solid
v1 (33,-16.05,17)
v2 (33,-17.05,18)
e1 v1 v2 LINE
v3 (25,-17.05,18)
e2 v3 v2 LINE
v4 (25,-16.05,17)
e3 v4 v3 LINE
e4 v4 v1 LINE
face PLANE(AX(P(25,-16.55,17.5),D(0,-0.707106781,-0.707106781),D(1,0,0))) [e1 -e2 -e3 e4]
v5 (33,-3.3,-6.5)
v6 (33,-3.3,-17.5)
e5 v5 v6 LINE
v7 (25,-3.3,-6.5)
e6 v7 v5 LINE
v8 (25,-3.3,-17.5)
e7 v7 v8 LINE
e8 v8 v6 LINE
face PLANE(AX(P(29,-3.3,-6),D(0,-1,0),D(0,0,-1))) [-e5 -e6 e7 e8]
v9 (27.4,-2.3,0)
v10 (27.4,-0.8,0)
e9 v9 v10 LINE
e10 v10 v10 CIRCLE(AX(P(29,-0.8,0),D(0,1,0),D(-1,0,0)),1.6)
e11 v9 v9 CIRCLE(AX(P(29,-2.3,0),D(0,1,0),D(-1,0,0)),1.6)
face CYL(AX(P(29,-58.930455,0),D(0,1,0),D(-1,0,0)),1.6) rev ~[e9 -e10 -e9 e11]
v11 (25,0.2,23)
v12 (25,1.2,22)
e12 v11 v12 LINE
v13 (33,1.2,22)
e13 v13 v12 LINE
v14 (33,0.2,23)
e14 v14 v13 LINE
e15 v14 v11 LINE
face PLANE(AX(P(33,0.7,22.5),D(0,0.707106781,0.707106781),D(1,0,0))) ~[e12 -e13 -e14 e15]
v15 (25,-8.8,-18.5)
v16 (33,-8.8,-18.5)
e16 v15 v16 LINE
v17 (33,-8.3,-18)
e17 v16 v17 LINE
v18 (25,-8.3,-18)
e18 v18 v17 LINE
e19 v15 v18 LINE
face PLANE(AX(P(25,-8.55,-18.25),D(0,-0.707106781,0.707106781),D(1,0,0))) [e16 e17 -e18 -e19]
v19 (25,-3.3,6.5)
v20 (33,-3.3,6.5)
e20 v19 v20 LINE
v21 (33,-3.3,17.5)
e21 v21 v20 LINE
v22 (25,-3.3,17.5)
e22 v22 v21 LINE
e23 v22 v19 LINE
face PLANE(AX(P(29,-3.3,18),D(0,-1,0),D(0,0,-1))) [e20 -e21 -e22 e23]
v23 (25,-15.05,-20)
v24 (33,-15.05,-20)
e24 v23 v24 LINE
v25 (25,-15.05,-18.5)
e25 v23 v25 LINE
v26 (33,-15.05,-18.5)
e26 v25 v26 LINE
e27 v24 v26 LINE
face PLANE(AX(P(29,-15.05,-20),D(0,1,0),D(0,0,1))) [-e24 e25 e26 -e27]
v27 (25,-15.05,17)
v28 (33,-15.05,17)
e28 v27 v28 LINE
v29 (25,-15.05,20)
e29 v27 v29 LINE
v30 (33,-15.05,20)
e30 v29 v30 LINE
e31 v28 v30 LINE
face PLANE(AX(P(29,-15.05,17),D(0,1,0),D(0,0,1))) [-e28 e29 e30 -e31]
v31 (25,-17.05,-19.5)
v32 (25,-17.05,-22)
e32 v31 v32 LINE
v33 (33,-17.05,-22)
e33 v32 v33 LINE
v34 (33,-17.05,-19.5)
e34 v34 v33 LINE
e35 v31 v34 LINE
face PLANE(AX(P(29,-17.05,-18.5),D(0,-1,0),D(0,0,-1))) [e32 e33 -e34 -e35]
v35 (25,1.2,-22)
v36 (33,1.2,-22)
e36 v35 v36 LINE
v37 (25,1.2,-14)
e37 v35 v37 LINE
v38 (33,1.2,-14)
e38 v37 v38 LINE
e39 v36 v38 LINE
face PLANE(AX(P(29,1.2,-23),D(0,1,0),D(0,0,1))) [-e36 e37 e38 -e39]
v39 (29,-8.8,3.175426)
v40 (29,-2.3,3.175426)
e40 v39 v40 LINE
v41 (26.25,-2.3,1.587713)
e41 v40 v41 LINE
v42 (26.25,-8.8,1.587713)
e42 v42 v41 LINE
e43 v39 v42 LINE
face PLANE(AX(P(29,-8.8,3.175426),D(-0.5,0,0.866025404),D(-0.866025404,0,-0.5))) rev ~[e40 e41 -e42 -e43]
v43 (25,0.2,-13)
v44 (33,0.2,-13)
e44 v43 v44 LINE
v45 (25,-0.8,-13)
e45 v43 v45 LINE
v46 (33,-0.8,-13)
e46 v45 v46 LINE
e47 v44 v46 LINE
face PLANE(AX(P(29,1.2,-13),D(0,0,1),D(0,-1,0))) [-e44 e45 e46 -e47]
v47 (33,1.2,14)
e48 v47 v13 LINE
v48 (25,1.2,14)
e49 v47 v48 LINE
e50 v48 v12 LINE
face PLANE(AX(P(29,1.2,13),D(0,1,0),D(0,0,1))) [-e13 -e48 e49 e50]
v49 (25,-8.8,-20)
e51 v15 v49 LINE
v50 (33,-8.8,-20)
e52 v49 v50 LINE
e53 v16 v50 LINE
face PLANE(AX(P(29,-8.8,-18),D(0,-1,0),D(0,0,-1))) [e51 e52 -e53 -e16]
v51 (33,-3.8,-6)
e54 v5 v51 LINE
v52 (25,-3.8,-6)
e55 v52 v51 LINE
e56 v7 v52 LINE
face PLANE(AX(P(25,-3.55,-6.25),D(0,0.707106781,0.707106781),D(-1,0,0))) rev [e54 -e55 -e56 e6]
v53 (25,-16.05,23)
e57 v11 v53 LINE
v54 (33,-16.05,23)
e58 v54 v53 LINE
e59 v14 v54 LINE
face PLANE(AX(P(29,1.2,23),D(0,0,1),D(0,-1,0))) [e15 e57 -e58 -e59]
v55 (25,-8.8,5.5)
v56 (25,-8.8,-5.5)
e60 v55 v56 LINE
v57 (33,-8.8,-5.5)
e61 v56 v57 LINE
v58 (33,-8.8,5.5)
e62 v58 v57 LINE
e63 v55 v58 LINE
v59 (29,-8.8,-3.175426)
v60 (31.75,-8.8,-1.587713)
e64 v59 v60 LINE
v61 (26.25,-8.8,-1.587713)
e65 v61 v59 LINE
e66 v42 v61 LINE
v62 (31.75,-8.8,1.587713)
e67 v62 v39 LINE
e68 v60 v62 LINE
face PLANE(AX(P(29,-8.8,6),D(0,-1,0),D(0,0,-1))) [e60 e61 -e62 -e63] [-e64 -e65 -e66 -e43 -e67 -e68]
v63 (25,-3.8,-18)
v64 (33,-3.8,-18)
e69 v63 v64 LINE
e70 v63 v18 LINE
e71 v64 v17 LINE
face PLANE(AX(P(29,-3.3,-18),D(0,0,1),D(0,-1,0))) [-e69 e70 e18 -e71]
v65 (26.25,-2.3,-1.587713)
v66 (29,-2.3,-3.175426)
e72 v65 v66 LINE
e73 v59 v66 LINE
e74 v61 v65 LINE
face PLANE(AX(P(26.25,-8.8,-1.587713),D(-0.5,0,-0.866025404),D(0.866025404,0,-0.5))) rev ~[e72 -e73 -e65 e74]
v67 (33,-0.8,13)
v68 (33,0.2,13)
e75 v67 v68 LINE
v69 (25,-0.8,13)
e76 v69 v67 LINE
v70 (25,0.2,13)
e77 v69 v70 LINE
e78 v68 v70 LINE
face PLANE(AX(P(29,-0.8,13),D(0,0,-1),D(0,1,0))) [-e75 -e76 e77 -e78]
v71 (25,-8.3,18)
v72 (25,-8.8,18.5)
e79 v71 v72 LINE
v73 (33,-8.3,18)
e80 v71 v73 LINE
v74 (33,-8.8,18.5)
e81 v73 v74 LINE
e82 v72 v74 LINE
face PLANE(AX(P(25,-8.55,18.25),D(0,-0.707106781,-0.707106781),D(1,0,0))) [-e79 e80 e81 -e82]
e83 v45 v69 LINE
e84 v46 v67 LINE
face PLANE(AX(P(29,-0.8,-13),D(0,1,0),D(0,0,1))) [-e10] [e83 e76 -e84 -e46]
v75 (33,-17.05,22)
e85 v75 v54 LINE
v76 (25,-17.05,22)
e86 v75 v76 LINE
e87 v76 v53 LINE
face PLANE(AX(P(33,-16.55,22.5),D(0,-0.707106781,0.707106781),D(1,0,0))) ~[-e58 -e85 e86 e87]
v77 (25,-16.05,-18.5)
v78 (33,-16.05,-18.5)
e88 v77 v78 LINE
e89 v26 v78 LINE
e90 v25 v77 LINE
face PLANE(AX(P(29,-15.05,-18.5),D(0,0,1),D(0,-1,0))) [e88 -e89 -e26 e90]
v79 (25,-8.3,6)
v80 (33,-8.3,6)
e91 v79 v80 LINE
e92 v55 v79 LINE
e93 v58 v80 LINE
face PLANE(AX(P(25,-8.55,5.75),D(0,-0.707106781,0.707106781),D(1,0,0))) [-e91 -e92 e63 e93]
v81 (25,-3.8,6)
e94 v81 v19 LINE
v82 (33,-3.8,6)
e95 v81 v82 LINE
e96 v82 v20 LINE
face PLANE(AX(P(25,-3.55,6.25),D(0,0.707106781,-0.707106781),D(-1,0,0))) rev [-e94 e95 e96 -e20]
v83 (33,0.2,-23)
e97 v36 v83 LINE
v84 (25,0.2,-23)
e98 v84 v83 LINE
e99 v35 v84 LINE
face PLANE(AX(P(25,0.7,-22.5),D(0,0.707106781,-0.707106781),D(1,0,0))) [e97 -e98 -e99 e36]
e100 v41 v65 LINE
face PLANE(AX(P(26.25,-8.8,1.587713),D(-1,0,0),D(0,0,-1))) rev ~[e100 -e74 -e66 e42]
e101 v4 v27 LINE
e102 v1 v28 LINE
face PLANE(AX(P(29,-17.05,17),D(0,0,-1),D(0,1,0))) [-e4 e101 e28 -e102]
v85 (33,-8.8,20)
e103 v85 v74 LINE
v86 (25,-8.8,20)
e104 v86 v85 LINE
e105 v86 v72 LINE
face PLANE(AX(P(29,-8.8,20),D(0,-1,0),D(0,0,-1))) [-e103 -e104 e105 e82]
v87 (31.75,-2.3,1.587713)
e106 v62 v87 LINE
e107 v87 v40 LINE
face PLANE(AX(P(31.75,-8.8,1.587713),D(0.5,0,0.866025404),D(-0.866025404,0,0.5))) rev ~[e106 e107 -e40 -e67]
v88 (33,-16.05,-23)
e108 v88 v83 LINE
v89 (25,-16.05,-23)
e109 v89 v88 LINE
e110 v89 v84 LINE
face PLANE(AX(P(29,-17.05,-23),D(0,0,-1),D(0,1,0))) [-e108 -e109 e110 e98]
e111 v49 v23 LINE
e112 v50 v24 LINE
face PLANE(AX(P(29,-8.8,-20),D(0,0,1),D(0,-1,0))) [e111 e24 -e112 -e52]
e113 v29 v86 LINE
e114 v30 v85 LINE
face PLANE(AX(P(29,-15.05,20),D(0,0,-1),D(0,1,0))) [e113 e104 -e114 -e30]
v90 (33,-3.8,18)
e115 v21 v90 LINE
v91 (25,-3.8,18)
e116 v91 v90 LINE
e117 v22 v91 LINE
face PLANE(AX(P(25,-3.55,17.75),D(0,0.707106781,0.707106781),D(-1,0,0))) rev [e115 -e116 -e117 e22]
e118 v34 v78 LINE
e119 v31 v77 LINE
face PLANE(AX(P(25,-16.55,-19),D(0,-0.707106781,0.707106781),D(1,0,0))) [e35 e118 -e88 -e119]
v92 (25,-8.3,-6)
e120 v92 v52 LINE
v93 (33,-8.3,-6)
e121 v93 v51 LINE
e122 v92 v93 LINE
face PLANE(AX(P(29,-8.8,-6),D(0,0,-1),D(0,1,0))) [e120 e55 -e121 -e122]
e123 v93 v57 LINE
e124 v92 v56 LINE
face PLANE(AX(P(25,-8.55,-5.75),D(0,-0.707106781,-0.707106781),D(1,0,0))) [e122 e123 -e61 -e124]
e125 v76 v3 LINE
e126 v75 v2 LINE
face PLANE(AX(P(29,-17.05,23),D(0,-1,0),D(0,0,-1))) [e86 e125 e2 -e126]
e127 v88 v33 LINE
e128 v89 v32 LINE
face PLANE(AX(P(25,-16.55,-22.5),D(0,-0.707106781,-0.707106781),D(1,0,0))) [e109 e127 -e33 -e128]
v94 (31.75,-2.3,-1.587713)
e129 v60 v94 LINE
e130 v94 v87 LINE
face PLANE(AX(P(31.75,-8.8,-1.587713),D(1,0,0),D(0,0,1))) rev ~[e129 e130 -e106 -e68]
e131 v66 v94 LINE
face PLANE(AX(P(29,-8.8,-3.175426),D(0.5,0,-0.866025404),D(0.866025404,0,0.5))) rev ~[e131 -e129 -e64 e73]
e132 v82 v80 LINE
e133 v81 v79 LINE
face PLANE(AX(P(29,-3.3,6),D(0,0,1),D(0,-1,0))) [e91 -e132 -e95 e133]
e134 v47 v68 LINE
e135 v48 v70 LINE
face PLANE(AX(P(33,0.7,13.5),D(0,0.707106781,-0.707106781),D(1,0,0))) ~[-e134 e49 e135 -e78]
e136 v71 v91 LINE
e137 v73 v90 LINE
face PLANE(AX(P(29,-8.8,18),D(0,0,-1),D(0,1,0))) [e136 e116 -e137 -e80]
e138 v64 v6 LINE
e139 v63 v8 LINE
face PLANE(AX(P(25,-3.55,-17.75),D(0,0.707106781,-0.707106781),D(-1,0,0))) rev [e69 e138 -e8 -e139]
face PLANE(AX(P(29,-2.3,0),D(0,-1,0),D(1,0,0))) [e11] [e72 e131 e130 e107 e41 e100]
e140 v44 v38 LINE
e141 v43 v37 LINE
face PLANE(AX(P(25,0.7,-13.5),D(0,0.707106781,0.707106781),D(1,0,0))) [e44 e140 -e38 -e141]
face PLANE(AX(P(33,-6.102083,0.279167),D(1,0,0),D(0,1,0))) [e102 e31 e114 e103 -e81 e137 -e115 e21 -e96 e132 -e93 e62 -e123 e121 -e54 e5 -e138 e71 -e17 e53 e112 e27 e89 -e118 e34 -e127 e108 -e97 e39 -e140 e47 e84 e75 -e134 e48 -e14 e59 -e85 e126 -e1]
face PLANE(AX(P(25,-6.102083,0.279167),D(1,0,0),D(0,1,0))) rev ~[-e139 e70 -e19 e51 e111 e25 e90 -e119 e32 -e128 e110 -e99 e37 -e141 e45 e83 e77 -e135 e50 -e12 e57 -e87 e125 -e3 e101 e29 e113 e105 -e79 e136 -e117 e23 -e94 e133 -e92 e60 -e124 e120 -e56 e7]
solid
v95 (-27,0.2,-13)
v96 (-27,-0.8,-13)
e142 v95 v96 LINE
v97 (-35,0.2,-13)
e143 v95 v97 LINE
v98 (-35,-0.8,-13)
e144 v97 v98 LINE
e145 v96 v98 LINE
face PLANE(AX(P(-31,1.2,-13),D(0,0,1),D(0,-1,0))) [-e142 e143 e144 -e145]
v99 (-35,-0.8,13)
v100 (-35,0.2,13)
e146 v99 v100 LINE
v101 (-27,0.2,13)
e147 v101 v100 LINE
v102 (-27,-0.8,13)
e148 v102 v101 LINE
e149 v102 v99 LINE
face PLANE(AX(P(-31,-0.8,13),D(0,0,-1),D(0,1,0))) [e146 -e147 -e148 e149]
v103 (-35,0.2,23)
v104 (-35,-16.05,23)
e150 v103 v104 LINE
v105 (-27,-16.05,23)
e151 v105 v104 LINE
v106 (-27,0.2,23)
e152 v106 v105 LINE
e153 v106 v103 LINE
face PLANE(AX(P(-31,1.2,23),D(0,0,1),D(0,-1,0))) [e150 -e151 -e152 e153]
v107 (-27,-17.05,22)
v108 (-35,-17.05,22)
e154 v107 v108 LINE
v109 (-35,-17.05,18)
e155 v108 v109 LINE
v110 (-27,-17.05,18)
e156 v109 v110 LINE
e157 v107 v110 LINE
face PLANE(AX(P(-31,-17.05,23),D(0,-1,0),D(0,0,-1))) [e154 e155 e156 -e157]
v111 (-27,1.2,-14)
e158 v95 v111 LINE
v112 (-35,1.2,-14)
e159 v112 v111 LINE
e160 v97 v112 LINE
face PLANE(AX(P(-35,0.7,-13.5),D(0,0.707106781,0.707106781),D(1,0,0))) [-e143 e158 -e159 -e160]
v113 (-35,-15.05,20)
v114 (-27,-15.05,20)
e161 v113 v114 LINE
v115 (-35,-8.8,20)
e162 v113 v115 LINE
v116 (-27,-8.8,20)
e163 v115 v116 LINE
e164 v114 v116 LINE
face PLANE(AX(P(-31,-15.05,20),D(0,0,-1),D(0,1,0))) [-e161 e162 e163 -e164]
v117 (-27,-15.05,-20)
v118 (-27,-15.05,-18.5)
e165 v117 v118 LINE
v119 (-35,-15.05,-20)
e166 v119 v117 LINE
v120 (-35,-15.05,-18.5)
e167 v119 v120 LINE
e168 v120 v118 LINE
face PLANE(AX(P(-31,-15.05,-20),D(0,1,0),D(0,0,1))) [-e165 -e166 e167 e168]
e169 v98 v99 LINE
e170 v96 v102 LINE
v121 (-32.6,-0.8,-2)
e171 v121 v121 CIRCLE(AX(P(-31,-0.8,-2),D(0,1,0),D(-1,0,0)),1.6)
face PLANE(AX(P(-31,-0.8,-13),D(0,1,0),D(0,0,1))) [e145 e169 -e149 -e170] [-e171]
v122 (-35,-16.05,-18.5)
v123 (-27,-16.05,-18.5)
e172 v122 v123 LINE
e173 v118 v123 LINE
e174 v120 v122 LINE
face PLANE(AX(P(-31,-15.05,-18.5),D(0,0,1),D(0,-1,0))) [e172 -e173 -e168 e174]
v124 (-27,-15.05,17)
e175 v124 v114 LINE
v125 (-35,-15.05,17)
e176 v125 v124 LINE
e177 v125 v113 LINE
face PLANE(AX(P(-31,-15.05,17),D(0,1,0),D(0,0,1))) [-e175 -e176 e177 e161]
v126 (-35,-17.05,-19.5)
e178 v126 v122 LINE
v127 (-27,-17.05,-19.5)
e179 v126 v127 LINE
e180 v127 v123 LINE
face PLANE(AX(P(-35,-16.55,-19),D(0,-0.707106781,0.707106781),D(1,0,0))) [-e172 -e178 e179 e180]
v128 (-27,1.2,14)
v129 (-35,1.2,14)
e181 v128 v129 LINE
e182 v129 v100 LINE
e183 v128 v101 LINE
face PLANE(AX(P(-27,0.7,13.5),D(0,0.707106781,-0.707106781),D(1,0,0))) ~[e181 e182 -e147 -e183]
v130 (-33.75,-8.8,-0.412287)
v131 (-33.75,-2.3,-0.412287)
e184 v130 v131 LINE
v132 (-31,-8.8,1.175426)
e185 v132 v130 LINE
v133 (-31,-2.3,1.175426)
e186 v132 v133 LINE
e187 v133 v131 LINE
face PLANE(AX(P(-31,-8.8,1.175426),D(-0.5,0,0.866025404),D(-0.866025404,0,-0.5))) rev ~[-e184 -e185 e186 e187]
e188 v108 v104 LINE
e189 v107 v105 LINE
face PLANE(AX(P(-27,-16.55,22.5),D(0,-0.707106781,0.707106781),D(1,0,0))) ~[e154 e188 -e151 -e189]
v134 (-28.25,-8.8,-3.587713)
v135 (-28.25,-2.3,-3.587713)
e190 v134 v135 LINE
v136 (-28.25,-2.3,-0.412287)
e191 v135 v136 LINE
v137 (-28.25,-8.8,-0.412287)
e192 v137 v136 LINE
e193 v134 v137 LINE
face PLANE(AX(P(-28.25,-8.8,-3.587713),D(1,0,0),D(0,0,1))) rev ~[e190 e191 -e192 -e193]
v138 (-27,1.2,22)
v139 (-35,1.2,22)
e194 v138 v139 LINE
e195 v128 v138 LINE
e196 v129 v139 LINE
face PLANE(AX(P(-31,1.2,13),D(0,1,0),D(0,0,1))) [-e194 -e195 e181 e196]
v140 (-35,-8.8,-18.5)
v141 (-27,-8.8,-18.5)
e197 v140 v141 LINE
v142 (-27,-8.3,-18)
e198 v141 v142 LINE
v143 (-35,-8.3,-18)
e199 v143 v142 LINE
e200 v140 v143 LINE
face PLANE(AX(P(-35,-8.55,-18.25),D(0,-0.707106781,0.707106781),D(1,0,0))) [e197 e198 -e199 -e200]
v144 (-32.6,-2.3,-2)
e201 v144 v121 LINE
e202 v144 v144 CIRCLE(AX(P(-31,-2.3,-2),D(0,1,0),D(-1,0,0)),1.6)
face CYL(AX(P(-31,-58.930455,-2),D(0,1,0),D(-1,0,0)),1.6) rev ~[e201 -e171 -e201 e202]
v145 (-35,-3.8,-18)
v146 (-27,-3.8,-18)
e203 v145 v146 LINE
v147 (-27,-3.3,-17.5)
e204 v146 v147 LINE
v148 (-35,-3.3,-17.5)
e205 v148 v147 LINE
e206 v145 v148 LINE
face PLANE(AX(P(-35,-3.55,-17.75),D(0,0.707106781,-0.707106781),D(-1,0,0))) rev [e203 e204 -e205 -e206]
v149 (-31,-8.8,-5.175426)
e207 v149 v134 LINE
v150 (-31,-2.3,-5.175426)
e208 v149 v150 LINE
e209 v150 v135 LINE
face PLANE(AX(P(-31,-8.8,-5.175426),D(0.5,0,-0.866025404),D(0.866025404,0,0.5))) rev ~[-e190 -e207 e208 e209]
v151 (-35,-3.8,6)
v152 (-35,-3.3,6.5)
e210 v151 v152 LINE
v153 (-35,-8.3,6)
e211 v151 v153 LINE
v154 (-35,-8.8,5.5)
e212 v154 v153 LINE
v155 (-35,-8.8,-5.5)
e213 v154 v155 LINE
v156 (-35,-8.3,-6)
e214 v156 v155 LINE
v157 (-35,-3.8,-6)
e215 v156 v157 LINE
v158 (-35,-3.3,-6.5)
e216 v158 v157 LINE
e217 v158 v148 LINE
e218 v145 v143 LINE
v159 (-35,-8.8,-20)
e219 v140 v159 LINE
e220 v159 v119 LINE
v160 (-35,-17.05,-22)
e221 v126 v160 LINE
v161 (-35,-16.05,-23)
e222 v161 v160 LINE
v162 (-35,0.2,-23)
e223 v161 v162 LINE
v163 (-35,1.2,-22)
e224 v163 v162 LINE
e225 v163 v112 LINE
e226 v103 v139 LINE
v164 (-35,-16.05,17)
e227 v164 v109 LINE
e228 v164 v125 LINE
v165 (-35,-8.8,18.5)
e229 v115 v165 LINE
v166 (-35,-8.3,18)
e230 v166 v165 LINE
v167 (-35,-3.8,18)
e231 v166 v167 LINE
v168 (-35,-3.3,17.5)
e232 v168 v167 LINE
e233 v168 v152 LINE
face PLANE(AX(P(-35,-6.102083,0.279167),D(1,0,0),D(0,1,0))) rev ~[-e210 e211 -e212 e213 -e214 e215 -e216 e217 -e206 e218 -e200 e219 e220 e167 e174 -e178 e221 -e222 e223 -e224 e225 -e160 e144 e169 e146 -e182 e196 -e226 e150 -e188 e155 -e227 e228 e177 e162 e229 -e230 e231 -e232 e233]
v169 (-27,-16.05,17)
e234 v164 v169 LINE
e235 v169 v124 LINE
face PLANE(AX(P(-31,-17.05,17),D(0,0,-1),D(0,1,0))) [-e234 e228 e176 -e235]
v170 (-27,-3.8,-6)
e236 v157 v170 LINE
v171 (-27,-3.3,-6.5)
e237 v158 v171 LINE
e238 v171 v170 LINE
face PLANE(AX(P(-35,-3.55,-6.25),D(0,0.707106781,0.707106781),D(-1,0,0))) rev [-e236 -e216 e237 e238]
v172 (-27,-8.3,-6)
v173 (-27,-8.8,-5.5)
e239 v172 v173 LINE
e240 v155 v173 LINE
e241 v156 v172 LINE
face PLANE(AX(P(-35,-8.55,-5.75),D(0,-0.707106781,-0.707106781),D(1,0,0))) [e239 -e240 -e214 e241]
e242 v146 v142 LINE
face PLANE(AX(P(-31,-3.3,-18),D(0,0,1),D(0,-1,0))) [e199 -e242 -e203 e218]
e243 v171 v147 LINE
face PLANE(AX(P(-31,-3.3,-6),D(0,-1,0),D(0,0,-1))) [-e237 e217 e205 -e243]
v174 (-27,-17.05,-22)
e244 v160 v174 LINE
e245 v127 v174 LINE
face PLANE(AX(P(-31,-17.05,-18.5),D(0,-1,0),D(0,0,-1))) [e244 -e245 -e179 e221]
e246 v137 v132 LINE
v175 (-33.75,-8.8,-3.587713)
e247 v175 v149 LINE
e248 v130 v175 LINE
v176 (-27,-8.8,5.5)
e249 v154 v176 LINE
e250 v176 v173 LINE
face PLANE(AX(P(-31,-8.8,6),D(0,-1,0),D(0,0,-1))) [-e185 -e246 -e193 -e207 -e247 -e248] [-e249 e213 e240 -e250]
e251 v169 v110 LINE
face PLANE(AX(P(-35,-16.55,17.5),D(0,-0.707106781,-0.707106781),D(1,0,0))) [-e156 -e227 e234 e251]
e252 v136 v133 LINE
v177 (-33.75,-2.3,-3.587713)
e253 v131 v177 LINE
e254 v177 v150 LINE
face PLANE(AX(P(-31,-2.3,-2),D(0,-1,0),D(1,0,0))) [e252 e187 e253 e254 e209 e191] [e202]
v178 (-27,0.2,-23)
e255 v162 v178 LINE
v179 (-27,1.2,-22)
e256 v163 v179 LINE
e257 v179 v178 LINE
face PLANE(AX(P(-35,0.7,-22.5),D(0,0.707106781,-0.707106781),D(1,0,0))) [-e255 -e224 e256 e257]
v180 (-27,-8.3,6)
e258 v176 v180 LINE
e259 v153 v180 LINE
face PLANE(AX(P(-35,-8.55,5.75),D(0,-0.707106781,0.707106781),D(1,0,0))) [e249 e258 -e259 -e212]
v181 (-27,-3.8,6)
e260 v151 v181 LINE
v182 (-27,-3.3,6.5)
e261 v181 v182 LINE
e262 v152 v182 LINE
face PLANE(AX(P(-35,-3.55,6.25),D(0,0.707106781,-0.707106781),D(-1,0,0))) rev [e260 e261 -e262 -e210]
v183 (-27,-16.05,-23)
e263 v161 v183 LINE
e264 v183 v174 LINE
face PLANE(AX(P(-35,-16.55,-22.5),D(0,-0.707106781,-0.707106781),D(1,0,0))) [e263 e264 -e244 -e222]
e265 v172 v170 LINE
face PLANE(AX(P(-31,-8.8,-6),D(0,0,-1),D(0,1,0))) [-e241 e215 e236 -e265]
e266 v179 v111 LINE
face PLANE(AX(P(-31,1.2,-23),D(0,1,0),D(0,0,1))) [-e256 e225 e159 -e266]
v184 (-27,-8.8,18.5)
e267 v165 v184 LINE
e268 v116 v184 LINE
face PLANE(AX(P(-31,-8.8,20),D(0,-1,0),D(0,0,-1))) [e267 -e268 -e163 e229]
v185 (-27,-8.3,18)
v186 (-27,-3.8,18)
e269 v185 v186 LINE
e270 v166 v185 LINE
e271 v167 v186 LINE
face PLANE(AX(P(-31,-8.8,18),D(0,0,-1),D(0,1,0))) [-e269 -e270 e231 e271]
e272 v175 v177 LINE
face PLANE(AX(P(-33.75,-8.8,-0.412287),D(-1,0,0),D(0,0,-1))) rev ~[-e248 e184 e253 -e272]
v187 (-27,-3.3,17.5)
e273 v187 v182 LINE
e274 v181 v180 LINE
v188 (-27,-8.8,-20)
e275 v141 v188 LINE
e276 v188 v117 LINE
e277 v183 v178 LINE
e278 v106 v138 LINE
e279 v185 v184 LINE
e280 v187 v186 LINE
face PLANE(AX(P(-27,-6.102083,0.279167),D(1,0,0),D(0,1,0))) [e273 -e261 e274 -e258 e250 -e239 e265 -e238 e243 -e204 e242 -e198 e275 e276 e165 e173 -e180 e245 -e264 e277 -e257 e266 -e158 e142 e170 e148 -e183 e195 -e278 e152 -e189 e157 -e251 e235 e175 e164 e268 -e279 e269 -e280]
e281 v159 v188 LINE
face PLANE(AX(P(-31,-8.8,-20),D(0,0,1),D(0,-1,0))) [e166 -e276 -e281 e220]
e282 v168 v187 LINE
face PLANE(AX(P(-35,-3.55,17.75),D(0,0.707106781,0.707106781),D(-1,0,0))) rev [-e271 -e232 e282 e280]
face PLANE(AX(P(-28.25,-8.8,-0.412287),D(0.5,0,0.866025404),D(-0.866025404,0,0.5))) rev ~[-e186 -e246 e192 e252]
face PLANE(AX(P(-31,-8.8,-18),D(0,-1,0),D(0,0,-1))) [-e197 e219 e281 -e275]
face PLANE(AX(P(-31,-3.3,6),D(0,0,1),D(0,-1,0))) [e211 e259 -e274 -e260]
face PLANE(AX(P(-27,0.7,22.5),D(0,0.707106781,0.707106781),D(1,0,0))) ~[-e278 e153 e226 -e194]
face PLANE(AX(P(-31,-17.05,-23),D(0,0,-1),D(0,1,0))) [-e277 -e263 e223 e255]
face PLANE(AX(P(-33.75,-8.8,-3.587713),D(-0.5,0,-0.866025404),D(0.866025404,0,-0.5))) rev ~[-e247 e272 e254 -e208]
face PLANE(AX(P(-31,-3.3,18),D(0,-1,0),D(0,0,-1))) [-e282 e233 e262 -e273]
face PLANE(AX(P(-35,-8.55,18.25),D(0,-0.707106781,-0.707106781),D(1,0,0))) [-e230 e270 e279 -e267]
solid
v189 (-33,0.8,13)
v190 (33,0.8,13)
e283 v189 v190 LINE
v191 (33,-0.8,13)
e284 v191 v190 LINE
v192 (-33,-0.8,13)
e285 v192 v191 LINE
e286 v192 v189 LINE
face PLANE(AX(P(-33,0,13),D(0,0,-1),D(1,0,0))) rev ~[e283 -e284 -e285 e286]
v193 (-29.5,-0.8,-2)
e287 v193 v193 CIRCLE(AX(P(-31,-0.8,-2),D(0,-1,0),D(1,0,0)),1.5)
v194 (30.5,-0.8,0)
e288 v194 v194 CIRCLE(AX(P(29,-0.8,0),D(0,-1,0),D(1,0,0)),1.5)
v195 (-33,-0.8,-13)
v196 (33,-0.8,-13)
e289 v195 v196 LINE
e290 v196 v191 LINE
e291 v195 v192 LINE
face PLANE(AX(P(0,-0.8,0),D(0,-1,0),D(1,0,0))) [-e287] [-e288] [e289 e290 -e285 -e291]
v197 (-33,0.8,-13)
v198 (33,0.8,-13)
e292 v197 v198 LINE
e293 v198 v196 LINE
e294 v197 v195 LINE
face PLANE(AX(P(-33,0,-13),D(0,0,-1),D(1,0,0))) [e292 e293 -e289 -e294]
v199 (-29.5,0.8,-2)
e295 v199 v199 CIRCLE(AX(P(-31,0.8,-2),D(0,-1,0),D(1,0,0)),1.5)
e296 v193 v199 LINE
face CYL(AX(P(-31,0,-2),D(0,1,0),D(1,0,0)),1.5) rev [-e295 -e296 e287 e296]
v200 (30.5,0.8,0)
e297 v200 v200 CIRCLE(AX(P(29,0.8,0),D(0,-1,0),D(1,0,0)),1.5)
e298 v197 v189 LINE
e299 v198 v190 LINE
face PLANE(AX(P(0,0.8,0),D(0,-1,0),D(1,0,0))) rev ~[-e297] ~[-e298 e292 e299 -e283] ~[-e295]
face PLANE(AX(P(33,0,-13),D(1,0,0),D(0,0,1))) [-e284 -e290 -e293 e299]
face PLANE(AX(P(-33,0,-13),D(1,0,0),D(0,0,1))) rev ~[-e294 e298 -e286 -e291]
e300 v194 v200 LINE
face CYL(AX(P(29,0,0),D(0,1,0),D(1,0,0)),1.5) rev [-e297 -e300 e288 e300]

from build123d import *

# Parameters (mm, degrees)
F0_W      = 66
F0_H      = 26
F0_R      = 1.5
F1_DEPTH  = 0.8
F4_DEPTH  = 4
F5_SIZE   = 0.5
F6_SIZE   = 1
F10_DEPTH = 6.5
F11_D     = 3.2
F11_2_D   = 3.2


with BuildPart() as f1:
    # F0 (on Front) → F1 (new body, symmetric)
    with BuildSketch(Plane.XZ):
        Rectangle(F0_W, F0_H)
        with Locations((-31, -2)):
            Circle(F0_R, mode=Mode.SUBTRACT)
        with Locations((29, 0)):
            Circle(F0_R, mode=Mode.SUBTRACT)
    extrude(amount=F1_DEPTH, both=True)


with BuildPart() as f4:
    # F3 (on face) → F4 (new body, symmetric)
    with BuildSketch(Plane.YZ.offset(29)):
        Polygon((-17.05, 23), (-17.05, 17), (-15.05, 17), (-15.05, 20), (-8.8, 20), (-8.8, 18), (-3.3, 18), (-3.3, 6), (-8.8, 6), (-8.8, -6), (-3.3, -6), (-3.3, -18), (-8.8, -18), (-8.8, -20), (-15.05, -20), (-15.05, -18.5), (-17.05, -18.5), (-17.05, -23), (1.2, -23), (1.2, -13), (-0.8, -13), (-0.8, 13), (1.2, 13), (1.2, 23), align=None)
    extrude(amount=F4_DEPTH, both=True)

    # F5
    f5_edges = [f4.edges().sort_by_distance(p)[0] for p in [
        (29, -8.8, 18),
        (29, -3.3, 18),
        (29, -3.3, 6),
        (29, -8.8, 6),
        (29, -8.8, -6),
        (29, -3.3, -6),
        (29, -3.3, -18),
        (29, -8.8, -18),
    ]]
    chamfer(f5_edges, length=F5_SIZE)

    # F6
    f6_edges = [f4.edges().sort_by_distance(p)[0] for p in [
        (29, 1.2, -23),
        (29, -17.05, -23),
        (29, -17.05, 23),
        (29, -17.05, 17),
        (29, -17.05, -18.5),
        (29, 1.2, 23),
        (29, 1.2, 13),
        (29, 1.2, -13),
    ]]
    chamfer(f6_edges, length=F6_SIZE)


with BuildPart() as f7_1:
    # F7: copy of F4
    add(f4.part.moved(Location((-60, 0, 0))))

    # F8: cut F1
    add(f1.part, mode=Mode.SUBTRACT)


with BuildPart() as f4_1:
    add(f4.part)

    # F8: cut F1
    add(f1.part, mode=Mode.SUBTRACT)


with BuildPart() as f10_tool:
    # F9 (on face) → F10 (new body)
    with BuildSketch(Plane.XZ.offset(8.8)):
        Polygon((-33.75, -0.4122867597), (-33.75, -3.5877132403), (-31, -5.1754264805), (-28.25, -3.5877132403), (-28.25, -0.4122867597), (-31, 1.1754264805), align=None)
        Polygon((26.25, 1.5877132403), (26.25, -1.5877132403), (29, -3.1754264805), (31.75, -1.5877132403), (31.75, 1.5877132403), (29, 3.1754264805), align=None)
    extrude(amount=-F10_DEPTH)


with BuildPart() as f4_2:
    add(f4_1.part)

    # F10: cut by f10_tool
    add(f10_tool.part, mode=Mode.SUBTRACT)

    # F11 (through all)
    with Locations(Plane.XZ.offset(8.8)):
        with Locations((-31, -2), (29, 0)):
            Hole(F11_D / 2)


with BuildPart() as f7_1_1:
    add(f7_1.part)

    # F10: cut by f10_tool
    add(f10_tool.part, mode=Mode.SUBTRACT)

    # F11#2 (through all)
    with Locations(Plane.XZ.offset(8.8)):
        with Locations((-31, -2), (29, 0)):
            Hole(F11_2_D / 2)


solid = Compound([f1.part, f4_2.part, f7_1_1.part])
